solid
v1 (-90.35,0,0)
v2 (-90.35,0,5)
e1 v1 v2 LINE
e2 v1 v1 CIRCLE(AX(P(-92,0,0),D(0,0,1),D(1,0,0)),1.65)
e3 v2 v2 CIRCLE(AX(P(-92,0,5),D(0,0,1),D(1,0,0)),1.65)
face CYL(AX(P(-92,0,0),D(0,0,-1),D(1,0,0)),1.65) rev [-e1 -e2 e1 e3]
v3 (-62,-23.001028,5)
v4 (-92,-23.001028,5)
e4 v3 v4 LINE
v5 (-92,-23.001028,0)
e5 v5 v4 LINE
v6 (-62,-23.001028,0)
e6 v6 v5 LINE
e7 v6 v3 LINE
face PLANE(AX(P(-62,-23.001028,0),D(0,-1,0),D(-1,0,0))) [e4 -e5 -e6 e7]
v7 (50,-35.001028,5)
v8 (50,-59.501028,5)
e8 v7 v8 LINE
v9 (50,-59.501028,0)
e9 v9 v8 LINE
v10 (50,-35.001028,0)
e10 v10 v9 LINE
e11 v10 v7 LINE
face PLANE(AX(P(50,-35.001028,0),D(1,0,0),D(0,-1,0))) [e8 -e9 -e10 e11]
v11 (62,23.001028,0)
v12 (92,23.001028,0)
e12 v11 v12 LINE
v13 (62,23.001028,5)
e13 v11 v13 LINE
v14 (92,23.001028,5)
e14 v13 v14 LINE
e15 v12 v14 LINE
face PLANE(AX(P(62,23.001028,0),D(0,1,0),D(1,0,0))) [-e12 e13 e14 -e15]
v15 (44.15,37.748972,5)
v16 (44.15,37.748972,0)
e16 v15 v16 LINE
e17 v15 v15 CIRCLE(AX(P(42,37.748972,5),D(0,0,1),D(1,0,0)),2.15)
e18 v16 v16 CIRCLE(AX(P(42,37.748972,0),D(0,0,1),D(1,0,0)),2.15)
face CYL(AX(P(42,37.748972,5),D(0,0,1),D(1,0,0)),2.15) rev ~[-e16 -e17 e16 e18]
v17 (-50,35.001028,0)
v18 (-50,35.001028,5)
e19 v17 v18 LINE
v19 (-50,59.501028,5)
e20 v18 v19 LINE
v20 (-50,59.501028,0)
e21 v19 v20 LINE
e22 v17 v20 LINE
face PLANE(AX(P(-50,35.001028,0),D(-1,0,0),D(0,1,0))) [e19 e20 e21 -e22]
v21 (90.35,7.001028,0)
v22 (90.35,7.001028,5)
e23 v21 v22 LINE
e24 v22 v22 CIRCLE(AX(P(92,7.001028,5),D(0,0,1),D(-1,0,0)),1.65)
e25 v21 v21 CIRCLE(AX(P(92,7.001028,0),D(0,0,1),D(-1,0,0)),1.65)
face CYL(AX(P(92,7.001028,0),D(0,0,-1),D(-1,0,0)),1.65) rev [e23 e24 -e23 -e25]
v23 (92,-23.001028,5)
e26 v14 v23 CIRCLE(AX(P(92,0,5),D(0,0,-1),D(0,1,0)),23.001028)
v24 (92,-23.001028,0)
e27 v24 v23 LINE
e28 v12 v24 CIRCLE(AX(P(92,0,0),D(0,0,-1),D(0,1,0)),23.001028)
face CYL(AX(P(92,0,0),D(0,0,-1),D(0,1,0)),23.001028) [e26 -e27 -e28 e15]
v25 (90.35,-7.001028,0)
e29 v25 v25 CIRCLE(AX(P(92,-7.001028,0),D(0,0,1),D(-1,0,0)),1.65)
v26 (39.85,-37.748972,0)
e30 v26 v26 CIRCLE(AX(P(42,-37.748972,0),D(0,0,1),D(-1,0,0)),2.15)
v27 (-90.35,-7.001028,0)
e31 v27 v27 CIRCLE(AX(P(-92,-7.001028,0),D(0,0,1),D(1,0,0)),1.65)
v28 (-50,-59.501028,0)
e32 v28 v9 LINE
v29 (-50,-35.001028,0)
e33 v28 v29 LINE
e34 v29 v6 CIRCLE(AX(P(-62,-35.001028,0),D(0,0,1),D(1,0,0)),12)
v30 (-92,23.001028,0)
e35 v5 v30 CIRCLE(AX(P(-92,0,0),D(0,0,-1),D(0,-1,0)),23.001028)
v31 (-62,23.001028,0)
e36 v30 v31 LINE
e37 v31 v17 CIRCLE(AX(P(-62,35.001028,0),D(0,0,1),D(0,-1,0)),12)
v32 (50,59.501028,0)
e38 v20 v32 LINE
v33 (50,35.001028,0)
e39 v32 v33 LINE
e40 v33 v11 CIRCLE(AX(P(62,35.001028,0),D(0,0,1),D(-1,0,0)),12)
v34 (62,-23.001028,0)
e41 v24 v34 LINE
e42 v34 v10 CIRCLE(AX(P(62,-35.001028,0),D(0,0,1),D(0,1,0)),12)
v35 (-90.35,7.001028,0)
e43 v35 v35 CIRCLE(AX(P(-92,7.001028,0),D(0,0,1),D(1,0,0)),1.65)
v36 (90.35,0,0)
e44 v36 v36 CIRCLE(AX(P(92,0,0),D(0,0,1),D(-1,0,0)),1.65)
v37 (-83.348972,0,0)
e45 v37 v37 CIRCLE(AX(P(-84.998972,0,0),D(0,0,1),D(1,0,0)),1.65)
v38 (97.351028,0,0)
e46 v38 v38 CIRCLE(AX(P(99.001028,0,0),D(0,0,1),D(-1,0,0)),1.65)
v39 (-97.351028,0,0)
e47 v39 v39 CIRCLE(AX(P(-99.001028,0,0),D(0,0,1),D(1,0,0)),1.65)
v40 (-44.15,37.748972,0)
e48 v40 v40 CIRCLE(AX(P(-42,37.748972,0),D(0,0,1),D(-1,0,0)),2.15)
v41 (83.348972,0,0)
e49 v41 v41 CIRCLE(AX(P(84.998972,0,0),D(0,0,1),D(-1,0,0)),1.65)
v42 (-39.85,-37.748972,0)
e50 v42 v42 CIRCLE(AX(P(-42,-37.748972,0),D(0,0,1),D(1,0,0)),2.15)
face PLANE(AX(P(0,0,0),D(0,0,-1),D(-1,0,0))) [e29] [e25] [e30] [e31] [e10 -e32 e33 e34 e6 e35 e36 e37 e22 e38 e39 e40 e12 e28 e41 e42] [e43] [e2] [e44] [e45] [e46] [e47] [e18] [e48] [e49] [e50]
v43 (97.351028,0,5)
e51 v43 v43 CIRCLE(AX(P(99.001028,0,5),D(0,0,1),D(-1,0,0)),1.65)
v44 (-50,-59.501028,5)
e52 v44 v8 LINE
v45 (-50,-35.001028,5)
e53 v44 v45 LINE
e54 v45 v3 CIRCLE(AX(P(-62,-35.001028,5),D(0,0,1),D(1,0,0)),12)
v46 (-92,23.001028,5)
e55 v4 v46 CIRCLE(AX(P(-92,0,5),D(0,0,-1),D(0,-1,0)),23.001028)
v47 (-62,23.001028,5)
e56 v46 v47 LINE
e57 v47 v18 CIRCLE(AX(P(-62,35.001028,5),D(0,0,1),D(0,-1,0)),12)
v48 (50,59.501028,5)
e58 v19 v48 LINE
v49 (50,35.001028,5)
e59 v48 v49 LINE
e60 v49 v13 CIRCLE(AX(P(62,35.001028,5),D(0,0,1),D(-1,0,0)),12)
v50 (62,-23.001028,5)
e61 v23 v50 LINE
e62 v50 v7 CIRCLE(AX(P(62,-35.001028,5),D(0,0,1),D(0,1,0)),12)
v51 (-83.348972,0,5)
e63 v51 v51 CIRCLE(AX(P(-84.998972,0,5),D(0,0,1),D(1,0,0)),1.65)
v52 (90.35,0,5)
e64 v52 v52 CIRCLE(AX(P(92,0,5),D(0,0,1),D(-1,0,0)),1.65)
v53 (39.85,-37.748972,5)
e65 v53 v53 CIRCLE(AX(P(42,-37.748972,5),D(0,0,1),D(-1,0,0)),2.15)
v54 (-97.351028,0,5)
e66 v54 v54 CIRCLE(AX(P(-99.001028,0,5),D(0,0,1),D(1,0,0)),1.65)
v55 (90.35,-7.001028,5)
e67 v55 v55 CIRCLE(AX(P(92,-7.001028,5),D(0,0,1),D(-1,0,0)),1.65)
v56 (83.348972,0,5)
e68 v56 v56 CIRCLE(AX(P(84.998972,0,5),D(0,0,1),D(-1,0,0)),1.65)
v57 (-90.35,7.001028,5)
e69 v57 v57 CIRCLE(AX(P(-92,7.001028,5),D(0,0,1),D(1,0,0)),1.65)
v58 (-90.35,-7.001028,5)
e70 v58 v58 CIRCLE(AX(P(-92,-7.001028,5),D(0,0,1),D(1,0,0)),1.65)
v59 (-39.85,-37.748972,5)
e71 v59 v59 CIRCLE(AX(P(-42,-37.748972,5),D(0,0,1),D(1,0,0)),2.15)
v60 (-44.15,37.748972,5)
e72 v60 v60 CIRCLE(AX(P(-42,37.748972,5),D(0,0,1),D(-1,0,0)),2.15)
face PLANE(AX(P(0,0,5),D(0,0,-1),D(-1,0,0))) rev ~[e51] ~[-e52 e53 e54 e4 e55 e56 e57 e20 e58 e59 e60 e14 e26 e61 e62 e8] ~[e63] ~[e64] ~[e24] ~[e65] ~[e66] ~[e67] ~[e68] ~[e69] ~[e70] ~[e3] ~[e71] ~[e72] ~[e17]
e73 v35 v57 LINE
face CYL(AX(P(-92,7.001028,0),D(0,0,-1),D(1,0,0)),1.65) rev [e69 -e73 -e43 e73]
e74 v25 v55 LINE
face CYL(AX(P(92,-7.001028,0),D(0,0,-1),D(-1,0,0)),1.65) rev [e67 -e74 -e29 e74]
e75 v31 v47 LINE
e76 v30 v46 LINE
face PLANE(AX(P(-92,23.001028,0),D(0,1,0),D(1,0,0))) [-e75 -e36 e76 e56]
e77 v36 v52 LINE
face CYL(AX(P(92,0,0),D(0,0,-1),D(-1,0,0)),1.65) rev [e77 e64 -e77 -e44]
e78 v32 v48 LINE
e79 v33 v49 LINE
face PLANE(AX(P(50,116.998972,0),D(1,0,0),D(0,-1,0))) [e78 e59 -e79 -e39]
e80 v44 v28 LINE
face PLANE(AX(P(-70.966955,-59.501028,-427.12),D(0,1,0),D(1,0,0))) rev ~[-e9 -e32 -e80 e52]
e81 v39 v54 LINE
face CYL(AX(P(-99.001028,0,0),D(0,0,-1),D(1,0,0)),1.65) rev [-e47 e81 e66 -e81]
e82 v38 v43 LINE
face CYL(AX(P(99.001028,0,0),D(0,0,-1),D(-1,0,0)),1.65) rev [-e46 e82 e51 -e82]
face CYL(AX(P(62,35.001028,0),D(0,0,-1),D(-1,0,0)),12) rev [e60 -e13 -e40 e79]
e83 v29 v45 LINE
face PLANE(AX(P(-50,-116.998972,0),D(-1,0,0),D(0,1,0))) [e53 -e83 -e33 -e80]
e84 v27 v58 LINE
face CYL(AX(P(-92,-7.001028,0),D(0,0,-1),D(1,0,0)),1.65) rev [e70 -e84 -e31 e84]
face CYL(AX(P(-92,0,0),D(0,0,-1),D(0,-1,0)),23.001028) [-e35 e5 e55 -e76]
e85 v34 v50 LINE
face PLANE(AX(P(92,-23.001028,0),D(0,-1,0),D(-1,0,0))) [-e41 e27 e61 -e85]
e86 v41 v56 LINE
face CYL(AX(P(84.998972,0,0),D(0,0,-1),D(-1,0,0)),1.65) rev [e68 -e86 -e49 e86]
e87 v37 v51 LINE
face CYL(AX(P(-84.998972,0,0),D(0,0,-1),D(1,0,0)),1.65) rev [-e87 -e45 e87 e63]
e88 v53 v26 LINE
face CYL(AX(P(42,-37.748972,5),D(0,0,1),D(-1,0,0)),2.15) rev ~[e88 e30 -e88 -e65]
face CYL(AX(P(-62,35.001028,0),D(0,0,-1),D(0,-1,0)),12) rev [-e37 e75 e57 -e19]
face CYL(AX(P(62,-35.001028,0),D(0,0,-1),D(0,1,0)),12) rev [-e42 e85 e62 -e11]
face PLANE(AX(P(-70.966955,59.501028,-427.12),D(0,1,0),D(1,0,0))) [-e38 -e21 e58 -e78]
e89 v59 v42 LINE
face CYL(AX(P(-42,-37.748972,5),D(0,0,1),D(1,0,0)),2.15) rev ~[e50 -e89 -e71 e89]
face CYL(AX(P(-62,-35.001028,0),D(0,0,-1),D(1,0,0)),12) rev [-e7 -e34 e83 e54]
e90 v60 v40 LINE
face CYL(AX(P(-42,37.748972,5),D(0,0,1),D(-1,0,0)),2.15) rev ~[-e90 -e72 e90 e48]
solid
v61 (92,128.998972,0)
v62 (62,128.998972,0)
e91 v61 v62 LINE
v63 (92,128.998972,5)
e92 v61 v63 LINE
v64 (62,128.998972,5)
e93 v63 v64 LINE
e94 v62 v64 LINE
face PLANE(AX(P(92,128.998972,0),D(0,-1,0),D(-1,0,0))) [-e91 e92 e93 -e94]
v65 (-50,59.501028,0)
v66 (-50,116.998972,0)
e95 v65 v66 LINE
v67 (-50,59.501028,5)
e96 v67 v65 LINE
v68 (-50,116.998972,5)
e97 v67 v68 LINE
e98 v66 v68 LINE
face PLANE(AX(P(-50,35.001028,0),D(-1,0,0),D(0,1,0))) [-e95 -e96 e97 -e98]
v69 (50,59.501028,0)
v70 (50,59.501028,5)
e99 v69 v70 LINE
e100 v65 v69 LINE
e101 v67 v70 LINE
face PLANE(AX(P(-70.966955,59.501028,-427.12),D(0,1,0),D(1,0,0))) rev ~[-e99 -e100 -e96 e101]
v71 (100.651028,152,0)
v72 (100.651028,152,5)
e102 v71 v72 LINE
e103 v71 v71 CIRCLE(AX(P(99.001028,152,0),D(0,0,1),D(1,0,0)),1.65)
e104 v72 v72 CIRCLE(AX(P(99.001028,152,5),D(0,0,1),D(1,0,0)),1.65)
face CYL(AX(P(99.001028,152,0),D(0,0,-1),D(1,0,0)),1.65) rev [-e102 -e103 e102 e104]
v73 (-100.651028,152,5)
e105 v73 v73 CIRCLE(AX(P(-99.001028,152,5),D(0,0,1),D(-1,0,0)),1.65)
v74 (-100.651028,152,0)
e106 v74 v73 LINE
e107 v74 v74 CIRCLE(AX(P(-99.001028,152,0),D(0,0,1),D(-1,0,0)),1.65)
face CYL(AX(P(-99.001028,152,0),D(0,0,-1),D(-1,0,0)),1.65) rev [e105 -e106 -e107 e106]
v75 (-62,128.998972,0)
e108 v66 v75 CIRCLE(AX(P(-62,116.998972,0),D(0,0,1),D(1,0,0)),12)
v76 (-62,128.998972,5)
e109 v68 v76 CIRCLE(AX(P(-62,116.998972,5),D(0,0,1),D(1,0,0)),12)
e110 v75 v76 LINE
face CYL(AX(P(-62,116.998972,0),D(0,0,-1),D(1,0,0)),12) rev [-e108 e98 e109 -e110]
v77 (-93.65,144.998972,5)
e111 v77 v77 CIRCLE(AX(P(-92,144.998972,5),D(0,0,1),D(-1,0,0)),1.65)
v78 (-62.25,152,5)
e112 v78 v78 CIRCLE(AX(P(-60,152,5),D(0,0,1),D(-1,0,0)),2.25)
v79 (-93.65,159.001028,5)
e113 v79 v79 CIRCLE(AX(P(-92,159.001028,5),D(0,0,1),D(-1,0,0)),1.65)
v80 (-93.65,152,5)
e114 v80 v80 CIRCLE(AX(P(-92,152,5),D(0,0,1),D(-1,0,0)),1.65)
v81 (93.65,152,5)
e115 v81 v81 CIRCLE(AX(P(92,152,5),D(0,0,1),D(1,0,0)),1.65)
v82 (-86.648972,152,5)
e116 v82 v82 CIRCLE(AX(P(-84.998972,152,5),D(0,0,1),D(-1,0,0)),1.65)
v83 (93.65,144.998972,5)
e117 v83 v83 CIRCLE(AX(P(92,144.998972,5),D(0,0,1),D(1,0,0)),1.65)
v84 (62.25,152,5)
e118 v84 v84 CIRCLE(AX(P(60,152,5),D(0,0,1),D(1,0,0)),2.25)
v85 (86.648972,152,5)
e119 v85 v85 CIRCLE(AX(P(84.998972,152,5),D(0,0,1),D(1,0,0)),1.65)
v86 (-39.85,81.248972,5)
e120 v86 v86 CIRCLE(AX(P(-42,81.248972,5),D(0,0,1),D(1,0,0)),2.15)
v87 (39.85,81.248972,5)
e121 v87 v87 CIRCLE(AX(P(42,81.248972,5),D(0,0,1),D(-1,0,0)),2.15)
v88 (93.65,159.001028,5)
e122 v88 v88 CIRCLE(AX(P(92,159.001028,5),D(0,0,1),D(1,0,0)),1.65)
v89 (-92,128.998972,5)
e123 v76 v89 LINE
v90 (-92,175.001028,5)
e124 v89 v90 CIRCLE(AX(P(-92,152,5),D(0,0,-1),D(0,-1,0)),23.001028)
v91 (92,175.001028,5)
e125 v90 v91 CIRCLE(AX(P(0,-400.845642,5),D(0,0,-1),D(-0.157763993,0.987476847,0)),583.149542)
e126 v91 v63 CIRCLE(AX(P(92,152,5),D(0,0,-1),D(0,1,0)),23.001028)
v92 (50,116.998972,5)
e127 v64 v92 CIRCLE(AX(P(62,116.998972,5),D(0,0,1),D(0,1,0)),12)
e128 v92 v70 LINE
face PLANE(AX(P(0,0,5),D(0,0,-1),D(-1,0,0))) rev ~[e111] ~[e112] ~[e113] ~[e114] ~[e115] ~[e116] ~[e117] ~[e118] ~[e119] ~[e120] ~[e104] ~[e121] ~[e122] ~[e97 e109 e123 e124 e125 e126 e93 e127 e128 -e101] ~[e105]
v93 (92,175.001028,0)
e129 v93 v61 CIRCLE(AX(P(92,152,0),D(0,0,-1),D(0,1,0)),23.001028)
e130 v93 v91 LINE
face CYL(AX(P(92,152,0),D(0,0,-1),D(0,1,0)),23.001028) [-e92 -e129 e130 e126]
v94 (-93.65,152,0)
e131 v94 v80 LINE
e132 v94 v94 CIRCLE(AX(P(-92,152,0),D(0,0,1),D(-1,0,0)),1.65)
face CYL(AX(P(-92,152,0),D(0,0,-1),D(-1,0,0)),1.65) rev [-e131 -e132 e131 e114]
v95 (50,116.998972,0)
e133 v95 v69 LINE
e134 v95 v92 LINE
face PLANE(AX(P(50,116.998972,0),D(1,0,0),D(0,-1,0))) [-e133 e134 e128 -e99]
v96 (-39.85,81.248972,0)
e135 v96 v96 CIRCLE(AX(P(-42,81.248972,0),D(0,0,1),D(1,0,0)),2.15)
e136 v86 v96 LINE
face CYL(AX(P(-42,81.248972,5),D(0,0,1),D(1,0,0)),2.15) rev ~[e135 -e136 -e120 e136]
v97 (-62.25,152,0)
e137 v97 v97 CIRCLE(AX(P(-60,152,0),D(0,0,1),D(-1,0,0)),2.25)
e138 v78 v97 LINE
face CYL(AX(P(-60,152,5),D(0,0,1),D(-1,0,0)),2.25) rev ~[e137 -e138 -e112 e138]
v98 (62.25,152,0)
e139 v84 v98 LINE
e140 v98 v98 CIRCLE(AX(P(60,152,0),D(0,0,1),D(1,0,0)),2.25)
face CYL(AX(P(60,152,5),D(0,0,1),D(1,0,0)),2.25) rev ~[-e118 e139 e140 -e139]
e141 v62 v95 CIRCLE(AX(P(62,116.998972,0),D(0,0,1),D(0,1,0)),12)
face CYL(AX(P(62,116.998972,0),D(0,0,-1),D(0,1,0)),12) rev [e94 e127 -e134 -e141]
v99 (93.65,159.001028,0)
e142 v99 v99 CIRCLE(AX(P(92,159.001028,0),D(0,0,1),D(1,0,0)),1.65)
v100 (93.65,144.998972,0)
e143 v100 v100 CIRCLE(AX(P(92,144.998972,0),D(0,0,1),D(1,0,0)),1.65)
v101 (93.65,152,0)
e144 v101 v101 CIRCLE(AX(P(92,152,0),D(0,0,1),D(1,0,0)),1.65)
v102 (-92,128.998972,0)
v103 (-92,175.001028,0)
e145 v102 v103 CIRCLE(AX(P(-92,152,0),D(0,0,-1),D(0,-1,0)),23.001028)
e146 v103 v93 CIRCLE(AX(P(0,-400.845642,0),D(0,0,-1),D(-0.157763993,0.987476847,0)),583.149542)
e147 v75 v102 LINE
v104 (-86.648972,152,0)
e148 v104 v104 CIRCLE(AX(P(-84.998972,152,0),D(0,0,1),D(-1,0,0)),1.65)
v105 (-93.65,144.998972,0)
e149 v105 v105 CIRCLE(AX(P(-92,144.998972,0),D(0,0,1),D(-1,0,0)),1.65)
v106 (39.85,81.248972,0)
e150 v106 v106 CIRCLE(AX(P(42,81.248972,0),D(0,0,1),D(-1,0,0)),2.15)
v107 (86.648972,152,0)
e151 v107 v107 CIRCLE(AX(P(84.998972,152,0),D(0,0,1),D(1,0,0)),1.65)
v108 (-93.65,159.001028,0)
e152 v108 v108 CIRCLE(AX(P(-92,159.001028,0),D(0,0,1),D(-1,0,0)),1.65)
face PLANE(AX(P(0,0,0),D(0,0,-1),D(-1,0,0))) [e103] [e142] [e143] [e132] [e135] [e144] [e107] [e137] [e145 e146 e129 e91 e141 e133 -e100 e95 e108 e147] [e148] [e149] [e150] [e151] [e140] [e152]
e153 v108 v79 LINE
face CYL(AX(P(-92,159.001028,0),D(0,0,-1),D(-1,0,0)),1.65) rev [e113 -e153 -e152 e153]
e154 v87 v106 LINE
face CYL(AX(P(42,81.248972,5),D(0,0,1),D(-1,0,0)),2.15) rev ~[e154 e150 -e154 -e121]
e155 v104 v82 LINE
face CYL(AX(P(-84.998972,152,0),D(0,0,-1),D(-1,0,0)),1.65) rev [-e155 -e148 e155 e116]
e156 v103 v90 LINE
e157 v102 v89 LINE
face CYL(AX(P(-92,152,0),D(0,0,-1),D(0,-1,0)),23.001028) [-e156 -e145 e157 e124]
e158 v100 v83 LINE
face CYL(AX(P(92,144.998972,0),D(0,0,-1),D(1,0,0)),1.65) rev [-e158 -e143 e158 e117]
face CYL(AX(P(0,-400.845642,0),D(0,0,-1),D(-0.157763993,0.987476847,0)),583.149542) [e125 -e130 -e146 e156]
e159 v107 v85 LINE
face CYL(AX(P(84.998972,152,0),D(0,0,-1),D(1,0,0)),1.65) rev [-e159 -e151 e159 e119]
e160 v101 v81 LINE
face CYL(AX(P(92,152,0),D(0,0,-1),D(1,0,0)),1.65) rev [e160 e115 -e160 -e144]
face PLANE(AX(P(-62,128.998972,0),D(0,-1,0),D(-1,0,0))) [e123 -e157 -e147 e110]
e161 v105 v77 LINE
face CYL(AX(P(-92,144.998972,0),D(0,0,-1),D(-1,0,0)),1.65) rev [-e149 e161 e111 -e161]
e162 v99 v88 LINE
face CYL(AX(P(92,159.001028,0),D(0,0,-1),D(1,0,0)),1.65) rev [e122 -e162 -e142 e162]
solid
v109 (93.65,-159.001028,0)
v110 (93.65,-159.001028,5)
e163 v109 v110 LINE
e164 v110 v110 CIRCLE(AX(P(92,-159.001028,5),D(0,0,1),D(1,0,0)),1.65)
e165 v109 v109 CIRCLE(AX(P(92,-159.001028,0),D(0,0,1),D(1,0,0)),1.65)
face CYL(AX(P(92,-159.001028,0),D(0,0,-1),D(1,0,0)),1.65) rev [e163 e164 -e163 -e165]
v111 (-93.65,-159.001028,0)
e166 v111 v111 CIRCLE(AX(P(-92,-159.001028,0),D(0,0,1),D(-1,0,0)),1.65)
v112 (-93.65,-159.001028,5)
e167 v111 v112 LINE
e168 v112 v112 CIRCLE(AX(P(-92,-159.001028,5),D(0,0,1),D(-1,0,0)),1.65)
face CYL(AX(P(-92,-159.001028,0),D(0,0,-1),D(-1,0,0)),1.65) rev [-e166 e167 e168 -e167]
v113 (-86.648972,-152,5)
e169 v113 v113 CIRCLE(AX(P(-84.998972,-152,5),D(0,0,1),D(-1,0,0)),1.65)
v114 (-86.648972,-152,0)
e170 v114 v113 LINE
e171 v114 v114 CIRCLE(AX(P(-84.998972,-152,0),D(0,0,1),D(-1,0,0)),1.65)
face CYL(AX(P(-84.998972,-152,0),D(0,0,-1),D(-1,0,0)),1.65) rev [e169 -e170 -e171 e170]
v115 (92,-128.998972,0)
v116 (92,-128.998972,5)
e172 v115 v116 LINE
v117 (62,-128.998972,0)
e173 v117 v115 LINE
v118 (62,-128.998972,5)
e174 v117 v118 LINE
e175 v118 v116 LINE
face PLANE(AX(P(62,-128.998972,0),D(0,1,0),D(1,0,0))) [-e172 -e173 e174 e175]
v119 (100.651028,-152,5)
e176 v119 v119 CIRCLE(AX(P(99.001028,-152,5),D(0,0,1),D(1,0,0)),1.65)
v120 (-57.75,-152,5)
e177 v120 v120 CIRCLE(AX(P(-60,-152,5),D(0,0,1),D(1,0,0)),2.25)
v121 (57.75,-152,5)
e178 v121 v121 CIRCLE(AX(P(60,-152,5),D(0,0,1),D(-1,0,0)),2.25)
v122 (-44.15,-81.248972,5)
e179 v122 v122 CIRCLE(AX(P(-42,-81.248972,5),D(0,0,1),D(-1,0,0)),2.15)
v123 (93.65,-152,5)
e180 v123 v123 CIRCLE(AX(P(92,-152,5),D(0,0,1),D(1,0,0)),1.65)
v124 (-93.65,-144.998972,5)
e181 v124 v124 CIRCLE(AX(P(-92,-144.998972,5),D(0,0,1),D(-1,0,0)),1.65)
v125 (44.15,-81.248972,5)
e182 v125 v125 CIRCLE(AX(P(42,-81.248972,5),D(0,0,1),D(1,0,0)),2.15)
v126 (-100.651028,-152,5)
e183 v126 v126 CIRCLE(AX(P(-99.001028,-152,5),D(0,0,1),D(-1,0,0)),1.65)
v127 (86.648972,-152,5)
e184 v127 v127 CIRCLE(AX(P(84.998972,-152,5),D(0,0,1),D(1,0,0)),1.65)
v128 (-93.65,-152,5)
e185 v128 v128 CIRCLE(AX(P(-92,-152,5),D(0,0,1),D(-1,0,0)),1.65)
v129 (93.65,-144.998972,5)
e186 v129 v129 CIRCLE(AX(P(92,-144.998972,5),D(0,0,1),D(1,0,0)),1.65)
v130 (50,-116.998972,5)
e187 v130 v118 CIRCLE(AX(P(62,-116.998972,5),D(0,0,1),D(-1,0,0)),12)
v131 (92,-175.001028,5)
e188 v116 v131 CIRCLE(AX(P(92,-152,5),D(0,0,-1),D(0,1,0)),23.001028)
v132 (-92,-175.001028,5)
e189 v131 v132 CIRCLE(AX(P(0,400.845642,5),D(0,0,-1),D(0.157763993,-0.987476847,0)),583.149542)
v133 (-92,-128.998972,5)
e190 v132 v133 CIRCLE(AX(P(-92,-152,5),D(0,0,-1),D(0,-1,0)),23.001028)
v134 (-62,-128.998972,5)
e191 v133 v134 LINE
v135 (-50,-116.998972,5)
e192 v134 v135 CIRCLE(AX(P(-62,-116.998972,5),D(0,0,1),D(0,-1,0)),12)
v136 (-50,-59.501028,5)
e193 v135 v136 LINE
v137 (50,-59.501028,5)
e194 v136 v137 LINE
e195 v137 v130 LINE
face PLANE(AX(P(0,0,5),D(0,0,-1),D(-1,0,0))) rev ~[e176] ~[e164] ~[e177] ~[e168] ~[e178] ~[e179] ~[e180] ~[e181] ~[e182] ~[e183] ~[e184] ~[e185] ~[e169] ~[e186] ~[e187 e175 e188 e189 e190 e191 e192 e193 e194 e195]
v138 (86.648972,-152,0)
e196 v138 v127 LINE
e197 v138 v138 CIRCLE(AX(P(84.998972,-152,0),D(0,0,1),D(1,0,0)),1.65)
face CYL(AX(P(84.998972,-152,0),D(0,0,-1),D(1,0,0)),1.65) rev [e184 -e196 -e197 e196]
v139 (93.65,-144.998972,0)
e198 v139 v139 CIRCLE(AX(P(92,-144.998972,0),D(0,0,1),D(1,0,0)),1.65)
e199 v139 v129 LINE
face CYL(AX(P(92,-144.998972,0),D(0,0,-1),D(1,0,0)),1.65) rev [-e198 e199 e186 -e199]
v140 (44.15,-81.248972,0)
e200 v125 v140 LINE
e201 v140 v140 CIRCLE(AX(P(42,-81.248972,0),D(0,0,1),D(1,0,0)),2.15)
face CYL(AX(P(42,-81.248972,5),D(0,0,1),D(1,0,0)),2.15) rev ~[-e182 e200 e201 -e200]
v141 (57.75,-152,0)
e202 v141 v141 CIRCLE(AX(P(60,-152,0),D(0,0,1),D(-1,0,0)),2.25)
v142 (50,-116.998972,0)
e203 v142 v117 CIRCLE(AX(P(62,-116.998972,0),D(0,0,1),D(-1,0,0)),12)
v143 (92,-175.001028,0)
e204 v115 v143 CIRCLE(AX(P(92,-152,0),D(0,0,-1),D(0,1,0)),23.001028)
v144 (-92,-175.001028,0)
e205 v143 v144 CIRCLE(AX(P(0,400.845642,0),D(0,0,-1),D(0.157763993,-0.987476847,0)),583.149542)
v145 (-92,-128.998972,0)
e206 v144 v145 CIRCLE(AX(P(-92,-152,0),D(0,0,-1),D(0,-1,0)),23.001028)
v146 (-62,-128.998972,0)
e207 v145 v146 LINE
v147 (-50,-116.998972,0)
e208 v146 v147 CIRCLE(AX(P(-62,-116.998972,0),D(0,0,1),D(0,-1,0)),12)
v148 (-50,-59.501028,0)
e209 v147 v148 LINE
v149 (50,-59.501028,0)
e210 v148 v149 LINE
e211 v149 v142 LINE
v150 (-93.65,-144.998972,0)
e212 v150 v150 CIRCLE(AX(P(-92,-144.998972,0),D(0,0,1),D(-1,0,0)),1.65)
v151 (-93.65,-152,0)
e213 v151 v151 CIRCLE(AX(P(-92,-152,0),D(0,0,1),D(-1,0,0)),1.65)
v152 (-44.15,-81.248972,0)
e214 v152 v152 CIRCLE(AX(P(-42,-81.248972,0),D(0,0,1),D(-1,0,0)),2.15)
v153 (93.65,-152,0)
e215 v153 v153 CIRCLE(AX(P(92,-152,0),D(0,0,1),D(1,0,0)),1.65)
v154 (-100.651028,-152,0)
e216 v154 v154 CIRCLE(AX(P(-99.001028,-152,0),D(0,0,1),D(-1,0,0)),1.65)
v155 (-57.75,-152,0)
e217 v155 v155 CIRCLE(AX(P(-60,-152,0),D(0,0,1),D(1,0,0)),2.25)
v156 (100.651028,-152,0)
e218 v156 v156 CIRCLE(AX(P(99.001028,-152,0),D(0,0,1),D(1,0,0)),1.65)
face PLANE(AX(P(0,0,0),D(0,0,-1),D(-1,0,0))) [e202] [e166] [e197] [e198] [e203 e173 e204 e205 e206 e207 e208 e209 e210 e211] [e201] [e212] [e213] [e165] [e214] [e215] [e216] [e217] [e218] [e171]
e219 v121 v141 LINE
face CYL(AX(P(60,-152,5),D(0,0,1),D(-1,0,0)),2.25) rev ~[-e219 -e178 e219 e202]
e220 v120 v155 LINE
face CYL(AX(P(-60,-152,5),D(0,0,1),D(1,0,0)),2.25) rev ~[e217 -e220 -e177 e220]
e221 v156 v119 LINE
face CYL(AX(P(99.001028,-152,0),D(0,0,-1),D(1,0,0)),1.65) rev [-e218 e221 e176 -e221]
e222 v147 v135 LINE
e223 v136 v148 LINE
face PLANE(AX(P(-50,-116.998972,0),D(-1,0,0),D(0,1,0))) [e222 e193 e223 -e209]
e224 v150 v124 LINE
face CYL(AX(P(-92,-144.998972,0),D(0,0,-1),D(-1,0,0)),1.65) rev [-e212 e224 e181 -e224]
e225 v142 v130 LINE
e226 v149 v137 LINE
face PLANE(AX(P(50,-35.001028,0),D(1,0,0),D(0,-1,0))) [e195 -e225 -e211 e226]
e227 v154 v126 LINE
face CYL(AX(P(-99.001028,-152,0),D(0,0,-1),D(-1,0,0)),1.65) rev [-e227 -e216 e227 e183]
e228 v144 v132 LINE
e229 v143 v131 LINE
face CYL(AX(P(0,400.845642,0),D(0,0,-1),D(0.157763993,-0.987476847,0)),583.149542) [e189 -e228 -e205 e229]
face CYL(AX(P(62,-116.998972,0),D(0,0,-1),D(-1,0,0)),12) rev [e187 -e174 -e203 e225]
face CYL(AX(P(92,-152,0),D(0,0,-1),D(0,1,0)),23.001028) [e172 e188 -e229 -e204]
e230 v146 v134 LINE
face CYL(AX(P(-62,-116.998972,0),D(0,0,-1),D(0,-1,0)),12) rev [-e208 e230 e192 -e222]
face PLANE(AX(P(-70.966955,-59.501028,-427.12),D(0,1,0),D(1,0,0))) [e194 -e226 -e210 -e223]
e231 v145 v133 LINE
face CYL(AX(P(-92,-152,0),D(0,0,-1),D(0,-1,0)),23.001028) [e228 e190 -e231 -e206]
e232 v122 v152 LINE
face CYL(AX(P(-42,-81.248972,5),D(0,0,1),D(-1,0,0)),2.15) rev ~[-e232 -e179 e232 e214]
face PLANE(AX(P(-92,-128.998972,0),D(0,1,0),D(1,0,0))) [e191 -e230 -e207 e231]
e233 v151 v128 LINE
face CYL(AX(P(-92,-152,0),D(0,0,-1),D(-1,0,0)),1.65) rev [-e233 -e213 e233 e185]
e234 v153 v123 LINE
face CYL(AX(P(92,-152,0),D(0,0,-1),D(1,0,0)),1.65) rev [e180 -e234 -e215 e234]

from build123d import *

# Parameters (mm, degrees)
SZKIC1_R                    = 1.65
DODANIE_WYCI_GNI_CIE1_DEPTH = 5
SZKIC3_R                    = 2.25
WYTNIJ_WYCI_GNI_CIE1_DEPTH  = 216.603683599
SZKIC4_R                    = 2.15
WYTNIJ_WYCI_GNI_CIE2_DEPTH  = 216.603683599
PODZIEL1_SURFACE_1_1_BACK   = 432.12
PODZIEL1_SURFACE_1_1_DEPTH  = 864.24
PODZIEL1_SURFACE_1_2_BACK   = 432.12
PODZIEL1_SURFACE_1_2_DEPTH  = 864.24
PODZIEL1_SURFACE_2_3_BACK   = 432.12
PODZIEL1_SURFACE_2_3_DEPTH  = 864.24
PODZIEL1_SURFACE_2_4_BACK   = 432.12
PODZIEL1_SURFACE_2_4_DEPTH  = 864.24


with BuildPart() as part:
    # Szkic1 → Dodanie-wyciągnięcie1 (new body)
    with BuildSketch(Plane.XY):
        with BuildLine():
            Line((-50, -116.998971504), (-50, -35.001028496))
            ThreePointArc((-50, -35.001028496), (-53.514718626, -26.515747122), (-62, -23.001028496))
            Line((-62, -23.001028496), (-92, -23.001028496))
            ThreePointArc((-92, -23.001028496), (-115.001028496, 0), (-92, 23.001028496))
            Line((-92, 23.001028496), (-62, 23.001028496))
            ThreePointArc((-62, 23.001028496), (-53.514718626, 26.515747122), (-50, 35.001028496))
            Line((-50, 35.001028496), (-50, 116.998971504))
            ThreePointArc((-50, 116.998971504), (-53.514718626, 125.484252878), (-62, 128.998971504))
            Line((-62, 128.998971504), (-92, 128.998971504))
            ThreePointArc((-92, 128.998971504), (-115.001028496, 152), (-92, 175.001028496))
            ThreePointArc((-92, 175.001028496), (0, 182.303899646), (92, 175.001028496))
            ThreePointArc((92, 175.001028496), (115.001028496, 152), (92, 128.998971504))
            Line((92, 128.998971504), (62, 128.998971504))
            ThreePointArc((62, 128.998971504), (53.514718626, 125.484252878), (50, 116.998971504))
            Line((50, 116.998971504), (50, 35.001028496))
            ThreePointArc((50, 35.001028496), (53.514718626, 26.515747122), (62, 23.001028496))
            Line((62, 23.001028496), (92, 23.001028496))
            ThreePointArc((92, 23.001028496), (115.001028496, 0), (92, -23.001028496))
            Line((92, -23.001028496), (62, -23.001028496))
            ThreePointArc((62, -23.001028496), (53.514718626, -26.515747122), (50, -35.001028496))
            Line((50, -35.001028496), (50, -116.998971504))
            ThreePointArc((50, -116.998971504), (53.514718626, -125.484252878), (62, -128.998971504))
            Line((62, -128.998971504), (92, -128.998971504))
            ThreePointArc((92, -128.998971504), (115.001028496, -152), (92, -175.001028496))
            ThreePointArc((92, -175.001028496), (0, -182.303899646), (-92, -175.001028496))
            ThreePointArc((-92, -175.001028496), (-115.001028496, -152), (-92, -128.998971504))
            Line((-92, -128.998971504), (-62, -128.998971504))
            ThreePointArc((-62, -128.998971504), (-53.514718626, -125.484252878), (-50, -116.998971504))
        make_face()
        with Locations((-92, 7.001028496)):
            Circle(SZKIC1_R, mode=Mode.SUBTRACT)
        with Locations((-84.998971504, 0)):
            Circle(SZKIC1_R, mode=Mode.SUBTRACT)
        with Locations((-92, -7.001028496)):
            Circle(SZKIC1_R, mode=Mode.SUBTRACT)
        with Locations((-99.001028496, 0)):
            Circle(SZKIC1_R, mode=Mode.SUBTRACT)
        with Locations(Location((-92, 159.001028496, 0), (0, 0, 180))):
            Circle(SZKIC1_R, mode=Mode.SUBTRACT)
        with Locations(Location((-99.001028496, 152, 0), (0, 0, 180))):
            Circle(SZKIC1_R, mode=Mode.SUBTRACT)
        with Locations(Location((-92, 144.998971504, 0), (0, 0, 180))):
            Circle(SZKIC1_R, mode=Mode.SUBTRACT)
        with Locations(Location((-84.998971504, 152, 0), (0, 0, 180))):
            Circle(SZKIC1_R, mode=Mode.SUBTRACT)
        with Locations(Location((-92, -144.998971504, 0), (0, 0, 180))):
            Circle(SZKIC1_R, mode=Mode.SUBTRACT)
        with Locations(Location((-99.001028496, -152, 0), (0, 0, 180))):
            Circle(SZKIC1_R, mode=Mode.SUBTRACT)
        with Locations(Location((-92, -159.001028496, 0), (0, 0, 180))):
            Circle(SZKIC1_R, mode=Mode.SUBTRACT)
        with Locations(Location((-84.998971504, -152, 0), (0, 0, 180))):
            Circle(SZKIC1_R, mode=Mode.SUBTRACT)
        with Locations((84.998971504, -152)):
            Circle(SZKIC1_R, mode=Mode.SUBTRACT)
        with Locations((92, -159.001028496)):
            Circle(SZKIC1_R, mode=Mode.SUBTRACT)
        with Locations((99.001028496, -152)):
            Circle(SZKIC1_R, mode=Mode.SUBTRACT)
        with Locations((92, -144.998971504)):
            Circle(SZKIC1_R, mode=Mode.SUBTRACT)
        with Locations(Location((99.001028496, 0, 0), (0, 0, 180))):
            Circle(SZKIC1_R, mode=Mode.SUBTRACT)
        with Locations(Location((92, -7.001028496, 0), (0, 0, 180))):
            Circle(SZKIC1_R, mode=Mode.SUBTRACT)
        with Locations(Location((84.998971504, 0, 0), (0, 0, 180))):
            Circle(SZKIC1_R, mode=Mode.SUBTRACT)
        with Locations(Location((92, 7.001028496, 0), (0, 0, 180))):
            Circle(SZKIC1_R, mode=Mode.SUBTRACT)
        with Locations((84.998971504, 152)):
            Circle(SZKIC1_R, mode=Mode.SUBTRACT)
        with Locations((92, 144.998971504)):
            Circle(SZKIC1_R, mode=Mode.SUBTRACT)
        with Locations((99.001028496, 152)):
            Circle(SZKIC1_R, mode=Mode.SUBTRACT)
        with Locations((92, 159.001028496)):
            Circle(SZKIC1_R, mode=Mode.SUBTRACT)
        with Locations((-92, 0)):
            Circle(SZKIC1_R, mode=Mode.SUBTRACT)
        with Locations(Location((-92, -152, 0), (0, 0, 180))):
            Circle(SZKIC1_R, mode=Mode.SUBTRACT)
        with Locations(Location((-92, 152, 0), (0, 0, 180))):
            Circle(SZKIC1_R, mode=Mode.SUBTRACT)
        with Locations((92, -152)):
            Circle(SZKIC1_R, mode=Mode.SUBTRACT)
        with Locations((92, 152)):
            Circle(SZKIC1_R, mode=Mode.SUBTRACT)
        with Locations(Location((92, 0, 0), (0, 0, 180))):
            Circle(SZKIC1_R, mode=Mode.SUBTRACT)
    extrude(amount=DODANIE_WYCI_GNI_CIE1_DEPTH)

    # Szkic3 → Wytnij-wyciągnięcie1 (cut, through all)
    with BuildSketch(Plane.XY.offset(5)):
        with Locations((-60, -152)):
            Circle(SZKIC3_R)
        with Locations(Location((60, -152, 0), (0, 0, 180))):
            Circle(SZKIC3_R)
        with Locations((60, 152)):
            Circle(SZKIC3_R)
        with Locations(Location((-60, 152, 0), (0, 0, 180))):
            Circle(SZKIC3_R)
    extrude(amount=-WYTNIJ_WYCI_GNI_CIE1_DEPTH, mode=Mode.SUBTRACT)

    # Szkic4 → Wytnij-wyciągnięcie2 (cut, through all)
    with BuildSketch(Plane.XY.offset(5)):
        with Locations((-42, -37.748971504)):
            Circle(SZKIC4_R)
        with Locations(Location((-42, -81.248971504, 0), (0, 0, 180))):
            Circle(SZKIC4_R)
        with Locations((42, -81.248971504)):
            Circle(SZKIC4_R)
        with Locations(Location((42, -37.748971504, 0), (0, 0, 180))):
            Circle(SZKIC4_R)
        with Locations((42, 37.748971504)):
            Circle(SZKIC4_R)
        with Locations(Location((42, 81.248971504, 0), (0, 0, 180))):
            Circle(SZKIC4_R)
        with Locations((-42, 81.248971504)):
            Circle(SZKIC4_R)
        with Locations(Location((-42, 37.748971504, 0), (0, 0, 180))):
            Circle(SZKIC4_R)
    extrude(amount=-WYTNIJ_WYCI_GNI_CIE2_DEPTH, mode=Mode.SUBTRACT)


with BuildPart() as body_2:
    # Podziel1: the piece behind the surface
    add(part.part)
    # Podziel1 surface 1: a surface, the sketch's curves swept straight by 864.24 mm
    with BuildLine(Plane.XY.offset(5).offset(-PODZIEL1_SURFACE_1_1_BACK), mode=Mode.PRIVATE) as podziel1_surface_1_1_path:
        Line((-70.966955214, -59.501028496), (115.533234257, -59.501028496))
    podziel1_surface_1_1 = Shell.extrude(podziel1_surface_1_1_path.wire(), (0 * PODZIEL1_SURFACE_1_1_DEPTH, 0 * PODZIEL1_SURFACE_1_1_DEPTH, 1 * PODZIEL1_SURFACE_1_1_DEPTH))
    split(bisect_by=podziel1_surface_1_1, keep=Keep.BOTTOM)


with BuildPart() as part_1:
    add(part.part)

    # Podziel1: split by a surface, the side it looks to stays
    # Podziel1 surface 1: a surface, the sketch's curves swept straight by 864.24 mm
    with BuildLine(Plane.XY.offset(5).offset(-PODZIEL1_SURFACE_1_2_BACK), mode=Mode.PRIVATE) as podziel1_surface_1_2_path:
        Line((-70.966955214, -59.501028496), (115.533234257, -59.501028496))
    podziel1_surface_1_2 = Shell.extrude(podziel1_surface_1_2_path.wire(), (0 * PODZIEL1_SURFACE_1_2_DEPTH, 0 * PODZIEL1_SURFACE_1_2_DEPTH, 1 * PODZIEL1_SURFACE_1_2_DEPTH))
    split(bisect_by=podziel1_surface_1_2, keep=Keep.TOP)


with BuildPart() as body_3:
    # Podziel1 2: the piece behind the surface
    add(part_1.part)
    # Podziel1 surface 2: a surface, the sketch's curves swept straight by 864.24 mm
    with BuildLine(Plane.XY.offset(5).offset(-PODZIEL1_SURFACE_2_3_BACK), mode=Mode.PRIVATE) as podziel1_surface_2_3_path:
        Line((-70.966955214, 59.501028496), (98.578671578, 59.501028496))
    podziel1_surface_2_3 = Shell.extrude(podziel1_surface_2_3_path.wire(), (0 * PODZIEL1_SURFACE_2_3_DEPTH, 0 * PODZIEL1_SURFACE_2_3_DEPTH, 1 * PODZIEL1_SURFACE_2_3_DEPTH))
    split(bisect_by=podziel1_surface_2_3, keep=Keep.BOTTOM)


with BuildPart() as part_2:
    add(part_1.part)

    # Podziel1 2: split by a surface, the side it looks to stays
    # Podziel1 surface 2: a surface, the sketch's curves swept straight by 864.24 mm
    with BuildLine(Plane.XY.offset(5).offset(-PODZIEL1_SURFACE_2_4_BACK), mode=Mode.PRIVATE) as podziel1_surface_2_4_path:
        Line((-70.966955214, 59.501028496), (98.578671578, 59.501028496))
    podziel1_surface_2_4 = Shell.extrude(podziel1_surface_2_4_path.wire(), (0 * PODZIEL1_SURFACE_2_4_DEPTH, 0 * PODZIEL1_SURFACE_2_4_DEPTH, 1 * PODZIEL1_SURFACE_2_4_DEPTH))
    split(bisect_by=podziel1_surface_2_4, keep=Keep.TOP)


solid = Compound([body_2.part, body_3.part, part_2.part])
